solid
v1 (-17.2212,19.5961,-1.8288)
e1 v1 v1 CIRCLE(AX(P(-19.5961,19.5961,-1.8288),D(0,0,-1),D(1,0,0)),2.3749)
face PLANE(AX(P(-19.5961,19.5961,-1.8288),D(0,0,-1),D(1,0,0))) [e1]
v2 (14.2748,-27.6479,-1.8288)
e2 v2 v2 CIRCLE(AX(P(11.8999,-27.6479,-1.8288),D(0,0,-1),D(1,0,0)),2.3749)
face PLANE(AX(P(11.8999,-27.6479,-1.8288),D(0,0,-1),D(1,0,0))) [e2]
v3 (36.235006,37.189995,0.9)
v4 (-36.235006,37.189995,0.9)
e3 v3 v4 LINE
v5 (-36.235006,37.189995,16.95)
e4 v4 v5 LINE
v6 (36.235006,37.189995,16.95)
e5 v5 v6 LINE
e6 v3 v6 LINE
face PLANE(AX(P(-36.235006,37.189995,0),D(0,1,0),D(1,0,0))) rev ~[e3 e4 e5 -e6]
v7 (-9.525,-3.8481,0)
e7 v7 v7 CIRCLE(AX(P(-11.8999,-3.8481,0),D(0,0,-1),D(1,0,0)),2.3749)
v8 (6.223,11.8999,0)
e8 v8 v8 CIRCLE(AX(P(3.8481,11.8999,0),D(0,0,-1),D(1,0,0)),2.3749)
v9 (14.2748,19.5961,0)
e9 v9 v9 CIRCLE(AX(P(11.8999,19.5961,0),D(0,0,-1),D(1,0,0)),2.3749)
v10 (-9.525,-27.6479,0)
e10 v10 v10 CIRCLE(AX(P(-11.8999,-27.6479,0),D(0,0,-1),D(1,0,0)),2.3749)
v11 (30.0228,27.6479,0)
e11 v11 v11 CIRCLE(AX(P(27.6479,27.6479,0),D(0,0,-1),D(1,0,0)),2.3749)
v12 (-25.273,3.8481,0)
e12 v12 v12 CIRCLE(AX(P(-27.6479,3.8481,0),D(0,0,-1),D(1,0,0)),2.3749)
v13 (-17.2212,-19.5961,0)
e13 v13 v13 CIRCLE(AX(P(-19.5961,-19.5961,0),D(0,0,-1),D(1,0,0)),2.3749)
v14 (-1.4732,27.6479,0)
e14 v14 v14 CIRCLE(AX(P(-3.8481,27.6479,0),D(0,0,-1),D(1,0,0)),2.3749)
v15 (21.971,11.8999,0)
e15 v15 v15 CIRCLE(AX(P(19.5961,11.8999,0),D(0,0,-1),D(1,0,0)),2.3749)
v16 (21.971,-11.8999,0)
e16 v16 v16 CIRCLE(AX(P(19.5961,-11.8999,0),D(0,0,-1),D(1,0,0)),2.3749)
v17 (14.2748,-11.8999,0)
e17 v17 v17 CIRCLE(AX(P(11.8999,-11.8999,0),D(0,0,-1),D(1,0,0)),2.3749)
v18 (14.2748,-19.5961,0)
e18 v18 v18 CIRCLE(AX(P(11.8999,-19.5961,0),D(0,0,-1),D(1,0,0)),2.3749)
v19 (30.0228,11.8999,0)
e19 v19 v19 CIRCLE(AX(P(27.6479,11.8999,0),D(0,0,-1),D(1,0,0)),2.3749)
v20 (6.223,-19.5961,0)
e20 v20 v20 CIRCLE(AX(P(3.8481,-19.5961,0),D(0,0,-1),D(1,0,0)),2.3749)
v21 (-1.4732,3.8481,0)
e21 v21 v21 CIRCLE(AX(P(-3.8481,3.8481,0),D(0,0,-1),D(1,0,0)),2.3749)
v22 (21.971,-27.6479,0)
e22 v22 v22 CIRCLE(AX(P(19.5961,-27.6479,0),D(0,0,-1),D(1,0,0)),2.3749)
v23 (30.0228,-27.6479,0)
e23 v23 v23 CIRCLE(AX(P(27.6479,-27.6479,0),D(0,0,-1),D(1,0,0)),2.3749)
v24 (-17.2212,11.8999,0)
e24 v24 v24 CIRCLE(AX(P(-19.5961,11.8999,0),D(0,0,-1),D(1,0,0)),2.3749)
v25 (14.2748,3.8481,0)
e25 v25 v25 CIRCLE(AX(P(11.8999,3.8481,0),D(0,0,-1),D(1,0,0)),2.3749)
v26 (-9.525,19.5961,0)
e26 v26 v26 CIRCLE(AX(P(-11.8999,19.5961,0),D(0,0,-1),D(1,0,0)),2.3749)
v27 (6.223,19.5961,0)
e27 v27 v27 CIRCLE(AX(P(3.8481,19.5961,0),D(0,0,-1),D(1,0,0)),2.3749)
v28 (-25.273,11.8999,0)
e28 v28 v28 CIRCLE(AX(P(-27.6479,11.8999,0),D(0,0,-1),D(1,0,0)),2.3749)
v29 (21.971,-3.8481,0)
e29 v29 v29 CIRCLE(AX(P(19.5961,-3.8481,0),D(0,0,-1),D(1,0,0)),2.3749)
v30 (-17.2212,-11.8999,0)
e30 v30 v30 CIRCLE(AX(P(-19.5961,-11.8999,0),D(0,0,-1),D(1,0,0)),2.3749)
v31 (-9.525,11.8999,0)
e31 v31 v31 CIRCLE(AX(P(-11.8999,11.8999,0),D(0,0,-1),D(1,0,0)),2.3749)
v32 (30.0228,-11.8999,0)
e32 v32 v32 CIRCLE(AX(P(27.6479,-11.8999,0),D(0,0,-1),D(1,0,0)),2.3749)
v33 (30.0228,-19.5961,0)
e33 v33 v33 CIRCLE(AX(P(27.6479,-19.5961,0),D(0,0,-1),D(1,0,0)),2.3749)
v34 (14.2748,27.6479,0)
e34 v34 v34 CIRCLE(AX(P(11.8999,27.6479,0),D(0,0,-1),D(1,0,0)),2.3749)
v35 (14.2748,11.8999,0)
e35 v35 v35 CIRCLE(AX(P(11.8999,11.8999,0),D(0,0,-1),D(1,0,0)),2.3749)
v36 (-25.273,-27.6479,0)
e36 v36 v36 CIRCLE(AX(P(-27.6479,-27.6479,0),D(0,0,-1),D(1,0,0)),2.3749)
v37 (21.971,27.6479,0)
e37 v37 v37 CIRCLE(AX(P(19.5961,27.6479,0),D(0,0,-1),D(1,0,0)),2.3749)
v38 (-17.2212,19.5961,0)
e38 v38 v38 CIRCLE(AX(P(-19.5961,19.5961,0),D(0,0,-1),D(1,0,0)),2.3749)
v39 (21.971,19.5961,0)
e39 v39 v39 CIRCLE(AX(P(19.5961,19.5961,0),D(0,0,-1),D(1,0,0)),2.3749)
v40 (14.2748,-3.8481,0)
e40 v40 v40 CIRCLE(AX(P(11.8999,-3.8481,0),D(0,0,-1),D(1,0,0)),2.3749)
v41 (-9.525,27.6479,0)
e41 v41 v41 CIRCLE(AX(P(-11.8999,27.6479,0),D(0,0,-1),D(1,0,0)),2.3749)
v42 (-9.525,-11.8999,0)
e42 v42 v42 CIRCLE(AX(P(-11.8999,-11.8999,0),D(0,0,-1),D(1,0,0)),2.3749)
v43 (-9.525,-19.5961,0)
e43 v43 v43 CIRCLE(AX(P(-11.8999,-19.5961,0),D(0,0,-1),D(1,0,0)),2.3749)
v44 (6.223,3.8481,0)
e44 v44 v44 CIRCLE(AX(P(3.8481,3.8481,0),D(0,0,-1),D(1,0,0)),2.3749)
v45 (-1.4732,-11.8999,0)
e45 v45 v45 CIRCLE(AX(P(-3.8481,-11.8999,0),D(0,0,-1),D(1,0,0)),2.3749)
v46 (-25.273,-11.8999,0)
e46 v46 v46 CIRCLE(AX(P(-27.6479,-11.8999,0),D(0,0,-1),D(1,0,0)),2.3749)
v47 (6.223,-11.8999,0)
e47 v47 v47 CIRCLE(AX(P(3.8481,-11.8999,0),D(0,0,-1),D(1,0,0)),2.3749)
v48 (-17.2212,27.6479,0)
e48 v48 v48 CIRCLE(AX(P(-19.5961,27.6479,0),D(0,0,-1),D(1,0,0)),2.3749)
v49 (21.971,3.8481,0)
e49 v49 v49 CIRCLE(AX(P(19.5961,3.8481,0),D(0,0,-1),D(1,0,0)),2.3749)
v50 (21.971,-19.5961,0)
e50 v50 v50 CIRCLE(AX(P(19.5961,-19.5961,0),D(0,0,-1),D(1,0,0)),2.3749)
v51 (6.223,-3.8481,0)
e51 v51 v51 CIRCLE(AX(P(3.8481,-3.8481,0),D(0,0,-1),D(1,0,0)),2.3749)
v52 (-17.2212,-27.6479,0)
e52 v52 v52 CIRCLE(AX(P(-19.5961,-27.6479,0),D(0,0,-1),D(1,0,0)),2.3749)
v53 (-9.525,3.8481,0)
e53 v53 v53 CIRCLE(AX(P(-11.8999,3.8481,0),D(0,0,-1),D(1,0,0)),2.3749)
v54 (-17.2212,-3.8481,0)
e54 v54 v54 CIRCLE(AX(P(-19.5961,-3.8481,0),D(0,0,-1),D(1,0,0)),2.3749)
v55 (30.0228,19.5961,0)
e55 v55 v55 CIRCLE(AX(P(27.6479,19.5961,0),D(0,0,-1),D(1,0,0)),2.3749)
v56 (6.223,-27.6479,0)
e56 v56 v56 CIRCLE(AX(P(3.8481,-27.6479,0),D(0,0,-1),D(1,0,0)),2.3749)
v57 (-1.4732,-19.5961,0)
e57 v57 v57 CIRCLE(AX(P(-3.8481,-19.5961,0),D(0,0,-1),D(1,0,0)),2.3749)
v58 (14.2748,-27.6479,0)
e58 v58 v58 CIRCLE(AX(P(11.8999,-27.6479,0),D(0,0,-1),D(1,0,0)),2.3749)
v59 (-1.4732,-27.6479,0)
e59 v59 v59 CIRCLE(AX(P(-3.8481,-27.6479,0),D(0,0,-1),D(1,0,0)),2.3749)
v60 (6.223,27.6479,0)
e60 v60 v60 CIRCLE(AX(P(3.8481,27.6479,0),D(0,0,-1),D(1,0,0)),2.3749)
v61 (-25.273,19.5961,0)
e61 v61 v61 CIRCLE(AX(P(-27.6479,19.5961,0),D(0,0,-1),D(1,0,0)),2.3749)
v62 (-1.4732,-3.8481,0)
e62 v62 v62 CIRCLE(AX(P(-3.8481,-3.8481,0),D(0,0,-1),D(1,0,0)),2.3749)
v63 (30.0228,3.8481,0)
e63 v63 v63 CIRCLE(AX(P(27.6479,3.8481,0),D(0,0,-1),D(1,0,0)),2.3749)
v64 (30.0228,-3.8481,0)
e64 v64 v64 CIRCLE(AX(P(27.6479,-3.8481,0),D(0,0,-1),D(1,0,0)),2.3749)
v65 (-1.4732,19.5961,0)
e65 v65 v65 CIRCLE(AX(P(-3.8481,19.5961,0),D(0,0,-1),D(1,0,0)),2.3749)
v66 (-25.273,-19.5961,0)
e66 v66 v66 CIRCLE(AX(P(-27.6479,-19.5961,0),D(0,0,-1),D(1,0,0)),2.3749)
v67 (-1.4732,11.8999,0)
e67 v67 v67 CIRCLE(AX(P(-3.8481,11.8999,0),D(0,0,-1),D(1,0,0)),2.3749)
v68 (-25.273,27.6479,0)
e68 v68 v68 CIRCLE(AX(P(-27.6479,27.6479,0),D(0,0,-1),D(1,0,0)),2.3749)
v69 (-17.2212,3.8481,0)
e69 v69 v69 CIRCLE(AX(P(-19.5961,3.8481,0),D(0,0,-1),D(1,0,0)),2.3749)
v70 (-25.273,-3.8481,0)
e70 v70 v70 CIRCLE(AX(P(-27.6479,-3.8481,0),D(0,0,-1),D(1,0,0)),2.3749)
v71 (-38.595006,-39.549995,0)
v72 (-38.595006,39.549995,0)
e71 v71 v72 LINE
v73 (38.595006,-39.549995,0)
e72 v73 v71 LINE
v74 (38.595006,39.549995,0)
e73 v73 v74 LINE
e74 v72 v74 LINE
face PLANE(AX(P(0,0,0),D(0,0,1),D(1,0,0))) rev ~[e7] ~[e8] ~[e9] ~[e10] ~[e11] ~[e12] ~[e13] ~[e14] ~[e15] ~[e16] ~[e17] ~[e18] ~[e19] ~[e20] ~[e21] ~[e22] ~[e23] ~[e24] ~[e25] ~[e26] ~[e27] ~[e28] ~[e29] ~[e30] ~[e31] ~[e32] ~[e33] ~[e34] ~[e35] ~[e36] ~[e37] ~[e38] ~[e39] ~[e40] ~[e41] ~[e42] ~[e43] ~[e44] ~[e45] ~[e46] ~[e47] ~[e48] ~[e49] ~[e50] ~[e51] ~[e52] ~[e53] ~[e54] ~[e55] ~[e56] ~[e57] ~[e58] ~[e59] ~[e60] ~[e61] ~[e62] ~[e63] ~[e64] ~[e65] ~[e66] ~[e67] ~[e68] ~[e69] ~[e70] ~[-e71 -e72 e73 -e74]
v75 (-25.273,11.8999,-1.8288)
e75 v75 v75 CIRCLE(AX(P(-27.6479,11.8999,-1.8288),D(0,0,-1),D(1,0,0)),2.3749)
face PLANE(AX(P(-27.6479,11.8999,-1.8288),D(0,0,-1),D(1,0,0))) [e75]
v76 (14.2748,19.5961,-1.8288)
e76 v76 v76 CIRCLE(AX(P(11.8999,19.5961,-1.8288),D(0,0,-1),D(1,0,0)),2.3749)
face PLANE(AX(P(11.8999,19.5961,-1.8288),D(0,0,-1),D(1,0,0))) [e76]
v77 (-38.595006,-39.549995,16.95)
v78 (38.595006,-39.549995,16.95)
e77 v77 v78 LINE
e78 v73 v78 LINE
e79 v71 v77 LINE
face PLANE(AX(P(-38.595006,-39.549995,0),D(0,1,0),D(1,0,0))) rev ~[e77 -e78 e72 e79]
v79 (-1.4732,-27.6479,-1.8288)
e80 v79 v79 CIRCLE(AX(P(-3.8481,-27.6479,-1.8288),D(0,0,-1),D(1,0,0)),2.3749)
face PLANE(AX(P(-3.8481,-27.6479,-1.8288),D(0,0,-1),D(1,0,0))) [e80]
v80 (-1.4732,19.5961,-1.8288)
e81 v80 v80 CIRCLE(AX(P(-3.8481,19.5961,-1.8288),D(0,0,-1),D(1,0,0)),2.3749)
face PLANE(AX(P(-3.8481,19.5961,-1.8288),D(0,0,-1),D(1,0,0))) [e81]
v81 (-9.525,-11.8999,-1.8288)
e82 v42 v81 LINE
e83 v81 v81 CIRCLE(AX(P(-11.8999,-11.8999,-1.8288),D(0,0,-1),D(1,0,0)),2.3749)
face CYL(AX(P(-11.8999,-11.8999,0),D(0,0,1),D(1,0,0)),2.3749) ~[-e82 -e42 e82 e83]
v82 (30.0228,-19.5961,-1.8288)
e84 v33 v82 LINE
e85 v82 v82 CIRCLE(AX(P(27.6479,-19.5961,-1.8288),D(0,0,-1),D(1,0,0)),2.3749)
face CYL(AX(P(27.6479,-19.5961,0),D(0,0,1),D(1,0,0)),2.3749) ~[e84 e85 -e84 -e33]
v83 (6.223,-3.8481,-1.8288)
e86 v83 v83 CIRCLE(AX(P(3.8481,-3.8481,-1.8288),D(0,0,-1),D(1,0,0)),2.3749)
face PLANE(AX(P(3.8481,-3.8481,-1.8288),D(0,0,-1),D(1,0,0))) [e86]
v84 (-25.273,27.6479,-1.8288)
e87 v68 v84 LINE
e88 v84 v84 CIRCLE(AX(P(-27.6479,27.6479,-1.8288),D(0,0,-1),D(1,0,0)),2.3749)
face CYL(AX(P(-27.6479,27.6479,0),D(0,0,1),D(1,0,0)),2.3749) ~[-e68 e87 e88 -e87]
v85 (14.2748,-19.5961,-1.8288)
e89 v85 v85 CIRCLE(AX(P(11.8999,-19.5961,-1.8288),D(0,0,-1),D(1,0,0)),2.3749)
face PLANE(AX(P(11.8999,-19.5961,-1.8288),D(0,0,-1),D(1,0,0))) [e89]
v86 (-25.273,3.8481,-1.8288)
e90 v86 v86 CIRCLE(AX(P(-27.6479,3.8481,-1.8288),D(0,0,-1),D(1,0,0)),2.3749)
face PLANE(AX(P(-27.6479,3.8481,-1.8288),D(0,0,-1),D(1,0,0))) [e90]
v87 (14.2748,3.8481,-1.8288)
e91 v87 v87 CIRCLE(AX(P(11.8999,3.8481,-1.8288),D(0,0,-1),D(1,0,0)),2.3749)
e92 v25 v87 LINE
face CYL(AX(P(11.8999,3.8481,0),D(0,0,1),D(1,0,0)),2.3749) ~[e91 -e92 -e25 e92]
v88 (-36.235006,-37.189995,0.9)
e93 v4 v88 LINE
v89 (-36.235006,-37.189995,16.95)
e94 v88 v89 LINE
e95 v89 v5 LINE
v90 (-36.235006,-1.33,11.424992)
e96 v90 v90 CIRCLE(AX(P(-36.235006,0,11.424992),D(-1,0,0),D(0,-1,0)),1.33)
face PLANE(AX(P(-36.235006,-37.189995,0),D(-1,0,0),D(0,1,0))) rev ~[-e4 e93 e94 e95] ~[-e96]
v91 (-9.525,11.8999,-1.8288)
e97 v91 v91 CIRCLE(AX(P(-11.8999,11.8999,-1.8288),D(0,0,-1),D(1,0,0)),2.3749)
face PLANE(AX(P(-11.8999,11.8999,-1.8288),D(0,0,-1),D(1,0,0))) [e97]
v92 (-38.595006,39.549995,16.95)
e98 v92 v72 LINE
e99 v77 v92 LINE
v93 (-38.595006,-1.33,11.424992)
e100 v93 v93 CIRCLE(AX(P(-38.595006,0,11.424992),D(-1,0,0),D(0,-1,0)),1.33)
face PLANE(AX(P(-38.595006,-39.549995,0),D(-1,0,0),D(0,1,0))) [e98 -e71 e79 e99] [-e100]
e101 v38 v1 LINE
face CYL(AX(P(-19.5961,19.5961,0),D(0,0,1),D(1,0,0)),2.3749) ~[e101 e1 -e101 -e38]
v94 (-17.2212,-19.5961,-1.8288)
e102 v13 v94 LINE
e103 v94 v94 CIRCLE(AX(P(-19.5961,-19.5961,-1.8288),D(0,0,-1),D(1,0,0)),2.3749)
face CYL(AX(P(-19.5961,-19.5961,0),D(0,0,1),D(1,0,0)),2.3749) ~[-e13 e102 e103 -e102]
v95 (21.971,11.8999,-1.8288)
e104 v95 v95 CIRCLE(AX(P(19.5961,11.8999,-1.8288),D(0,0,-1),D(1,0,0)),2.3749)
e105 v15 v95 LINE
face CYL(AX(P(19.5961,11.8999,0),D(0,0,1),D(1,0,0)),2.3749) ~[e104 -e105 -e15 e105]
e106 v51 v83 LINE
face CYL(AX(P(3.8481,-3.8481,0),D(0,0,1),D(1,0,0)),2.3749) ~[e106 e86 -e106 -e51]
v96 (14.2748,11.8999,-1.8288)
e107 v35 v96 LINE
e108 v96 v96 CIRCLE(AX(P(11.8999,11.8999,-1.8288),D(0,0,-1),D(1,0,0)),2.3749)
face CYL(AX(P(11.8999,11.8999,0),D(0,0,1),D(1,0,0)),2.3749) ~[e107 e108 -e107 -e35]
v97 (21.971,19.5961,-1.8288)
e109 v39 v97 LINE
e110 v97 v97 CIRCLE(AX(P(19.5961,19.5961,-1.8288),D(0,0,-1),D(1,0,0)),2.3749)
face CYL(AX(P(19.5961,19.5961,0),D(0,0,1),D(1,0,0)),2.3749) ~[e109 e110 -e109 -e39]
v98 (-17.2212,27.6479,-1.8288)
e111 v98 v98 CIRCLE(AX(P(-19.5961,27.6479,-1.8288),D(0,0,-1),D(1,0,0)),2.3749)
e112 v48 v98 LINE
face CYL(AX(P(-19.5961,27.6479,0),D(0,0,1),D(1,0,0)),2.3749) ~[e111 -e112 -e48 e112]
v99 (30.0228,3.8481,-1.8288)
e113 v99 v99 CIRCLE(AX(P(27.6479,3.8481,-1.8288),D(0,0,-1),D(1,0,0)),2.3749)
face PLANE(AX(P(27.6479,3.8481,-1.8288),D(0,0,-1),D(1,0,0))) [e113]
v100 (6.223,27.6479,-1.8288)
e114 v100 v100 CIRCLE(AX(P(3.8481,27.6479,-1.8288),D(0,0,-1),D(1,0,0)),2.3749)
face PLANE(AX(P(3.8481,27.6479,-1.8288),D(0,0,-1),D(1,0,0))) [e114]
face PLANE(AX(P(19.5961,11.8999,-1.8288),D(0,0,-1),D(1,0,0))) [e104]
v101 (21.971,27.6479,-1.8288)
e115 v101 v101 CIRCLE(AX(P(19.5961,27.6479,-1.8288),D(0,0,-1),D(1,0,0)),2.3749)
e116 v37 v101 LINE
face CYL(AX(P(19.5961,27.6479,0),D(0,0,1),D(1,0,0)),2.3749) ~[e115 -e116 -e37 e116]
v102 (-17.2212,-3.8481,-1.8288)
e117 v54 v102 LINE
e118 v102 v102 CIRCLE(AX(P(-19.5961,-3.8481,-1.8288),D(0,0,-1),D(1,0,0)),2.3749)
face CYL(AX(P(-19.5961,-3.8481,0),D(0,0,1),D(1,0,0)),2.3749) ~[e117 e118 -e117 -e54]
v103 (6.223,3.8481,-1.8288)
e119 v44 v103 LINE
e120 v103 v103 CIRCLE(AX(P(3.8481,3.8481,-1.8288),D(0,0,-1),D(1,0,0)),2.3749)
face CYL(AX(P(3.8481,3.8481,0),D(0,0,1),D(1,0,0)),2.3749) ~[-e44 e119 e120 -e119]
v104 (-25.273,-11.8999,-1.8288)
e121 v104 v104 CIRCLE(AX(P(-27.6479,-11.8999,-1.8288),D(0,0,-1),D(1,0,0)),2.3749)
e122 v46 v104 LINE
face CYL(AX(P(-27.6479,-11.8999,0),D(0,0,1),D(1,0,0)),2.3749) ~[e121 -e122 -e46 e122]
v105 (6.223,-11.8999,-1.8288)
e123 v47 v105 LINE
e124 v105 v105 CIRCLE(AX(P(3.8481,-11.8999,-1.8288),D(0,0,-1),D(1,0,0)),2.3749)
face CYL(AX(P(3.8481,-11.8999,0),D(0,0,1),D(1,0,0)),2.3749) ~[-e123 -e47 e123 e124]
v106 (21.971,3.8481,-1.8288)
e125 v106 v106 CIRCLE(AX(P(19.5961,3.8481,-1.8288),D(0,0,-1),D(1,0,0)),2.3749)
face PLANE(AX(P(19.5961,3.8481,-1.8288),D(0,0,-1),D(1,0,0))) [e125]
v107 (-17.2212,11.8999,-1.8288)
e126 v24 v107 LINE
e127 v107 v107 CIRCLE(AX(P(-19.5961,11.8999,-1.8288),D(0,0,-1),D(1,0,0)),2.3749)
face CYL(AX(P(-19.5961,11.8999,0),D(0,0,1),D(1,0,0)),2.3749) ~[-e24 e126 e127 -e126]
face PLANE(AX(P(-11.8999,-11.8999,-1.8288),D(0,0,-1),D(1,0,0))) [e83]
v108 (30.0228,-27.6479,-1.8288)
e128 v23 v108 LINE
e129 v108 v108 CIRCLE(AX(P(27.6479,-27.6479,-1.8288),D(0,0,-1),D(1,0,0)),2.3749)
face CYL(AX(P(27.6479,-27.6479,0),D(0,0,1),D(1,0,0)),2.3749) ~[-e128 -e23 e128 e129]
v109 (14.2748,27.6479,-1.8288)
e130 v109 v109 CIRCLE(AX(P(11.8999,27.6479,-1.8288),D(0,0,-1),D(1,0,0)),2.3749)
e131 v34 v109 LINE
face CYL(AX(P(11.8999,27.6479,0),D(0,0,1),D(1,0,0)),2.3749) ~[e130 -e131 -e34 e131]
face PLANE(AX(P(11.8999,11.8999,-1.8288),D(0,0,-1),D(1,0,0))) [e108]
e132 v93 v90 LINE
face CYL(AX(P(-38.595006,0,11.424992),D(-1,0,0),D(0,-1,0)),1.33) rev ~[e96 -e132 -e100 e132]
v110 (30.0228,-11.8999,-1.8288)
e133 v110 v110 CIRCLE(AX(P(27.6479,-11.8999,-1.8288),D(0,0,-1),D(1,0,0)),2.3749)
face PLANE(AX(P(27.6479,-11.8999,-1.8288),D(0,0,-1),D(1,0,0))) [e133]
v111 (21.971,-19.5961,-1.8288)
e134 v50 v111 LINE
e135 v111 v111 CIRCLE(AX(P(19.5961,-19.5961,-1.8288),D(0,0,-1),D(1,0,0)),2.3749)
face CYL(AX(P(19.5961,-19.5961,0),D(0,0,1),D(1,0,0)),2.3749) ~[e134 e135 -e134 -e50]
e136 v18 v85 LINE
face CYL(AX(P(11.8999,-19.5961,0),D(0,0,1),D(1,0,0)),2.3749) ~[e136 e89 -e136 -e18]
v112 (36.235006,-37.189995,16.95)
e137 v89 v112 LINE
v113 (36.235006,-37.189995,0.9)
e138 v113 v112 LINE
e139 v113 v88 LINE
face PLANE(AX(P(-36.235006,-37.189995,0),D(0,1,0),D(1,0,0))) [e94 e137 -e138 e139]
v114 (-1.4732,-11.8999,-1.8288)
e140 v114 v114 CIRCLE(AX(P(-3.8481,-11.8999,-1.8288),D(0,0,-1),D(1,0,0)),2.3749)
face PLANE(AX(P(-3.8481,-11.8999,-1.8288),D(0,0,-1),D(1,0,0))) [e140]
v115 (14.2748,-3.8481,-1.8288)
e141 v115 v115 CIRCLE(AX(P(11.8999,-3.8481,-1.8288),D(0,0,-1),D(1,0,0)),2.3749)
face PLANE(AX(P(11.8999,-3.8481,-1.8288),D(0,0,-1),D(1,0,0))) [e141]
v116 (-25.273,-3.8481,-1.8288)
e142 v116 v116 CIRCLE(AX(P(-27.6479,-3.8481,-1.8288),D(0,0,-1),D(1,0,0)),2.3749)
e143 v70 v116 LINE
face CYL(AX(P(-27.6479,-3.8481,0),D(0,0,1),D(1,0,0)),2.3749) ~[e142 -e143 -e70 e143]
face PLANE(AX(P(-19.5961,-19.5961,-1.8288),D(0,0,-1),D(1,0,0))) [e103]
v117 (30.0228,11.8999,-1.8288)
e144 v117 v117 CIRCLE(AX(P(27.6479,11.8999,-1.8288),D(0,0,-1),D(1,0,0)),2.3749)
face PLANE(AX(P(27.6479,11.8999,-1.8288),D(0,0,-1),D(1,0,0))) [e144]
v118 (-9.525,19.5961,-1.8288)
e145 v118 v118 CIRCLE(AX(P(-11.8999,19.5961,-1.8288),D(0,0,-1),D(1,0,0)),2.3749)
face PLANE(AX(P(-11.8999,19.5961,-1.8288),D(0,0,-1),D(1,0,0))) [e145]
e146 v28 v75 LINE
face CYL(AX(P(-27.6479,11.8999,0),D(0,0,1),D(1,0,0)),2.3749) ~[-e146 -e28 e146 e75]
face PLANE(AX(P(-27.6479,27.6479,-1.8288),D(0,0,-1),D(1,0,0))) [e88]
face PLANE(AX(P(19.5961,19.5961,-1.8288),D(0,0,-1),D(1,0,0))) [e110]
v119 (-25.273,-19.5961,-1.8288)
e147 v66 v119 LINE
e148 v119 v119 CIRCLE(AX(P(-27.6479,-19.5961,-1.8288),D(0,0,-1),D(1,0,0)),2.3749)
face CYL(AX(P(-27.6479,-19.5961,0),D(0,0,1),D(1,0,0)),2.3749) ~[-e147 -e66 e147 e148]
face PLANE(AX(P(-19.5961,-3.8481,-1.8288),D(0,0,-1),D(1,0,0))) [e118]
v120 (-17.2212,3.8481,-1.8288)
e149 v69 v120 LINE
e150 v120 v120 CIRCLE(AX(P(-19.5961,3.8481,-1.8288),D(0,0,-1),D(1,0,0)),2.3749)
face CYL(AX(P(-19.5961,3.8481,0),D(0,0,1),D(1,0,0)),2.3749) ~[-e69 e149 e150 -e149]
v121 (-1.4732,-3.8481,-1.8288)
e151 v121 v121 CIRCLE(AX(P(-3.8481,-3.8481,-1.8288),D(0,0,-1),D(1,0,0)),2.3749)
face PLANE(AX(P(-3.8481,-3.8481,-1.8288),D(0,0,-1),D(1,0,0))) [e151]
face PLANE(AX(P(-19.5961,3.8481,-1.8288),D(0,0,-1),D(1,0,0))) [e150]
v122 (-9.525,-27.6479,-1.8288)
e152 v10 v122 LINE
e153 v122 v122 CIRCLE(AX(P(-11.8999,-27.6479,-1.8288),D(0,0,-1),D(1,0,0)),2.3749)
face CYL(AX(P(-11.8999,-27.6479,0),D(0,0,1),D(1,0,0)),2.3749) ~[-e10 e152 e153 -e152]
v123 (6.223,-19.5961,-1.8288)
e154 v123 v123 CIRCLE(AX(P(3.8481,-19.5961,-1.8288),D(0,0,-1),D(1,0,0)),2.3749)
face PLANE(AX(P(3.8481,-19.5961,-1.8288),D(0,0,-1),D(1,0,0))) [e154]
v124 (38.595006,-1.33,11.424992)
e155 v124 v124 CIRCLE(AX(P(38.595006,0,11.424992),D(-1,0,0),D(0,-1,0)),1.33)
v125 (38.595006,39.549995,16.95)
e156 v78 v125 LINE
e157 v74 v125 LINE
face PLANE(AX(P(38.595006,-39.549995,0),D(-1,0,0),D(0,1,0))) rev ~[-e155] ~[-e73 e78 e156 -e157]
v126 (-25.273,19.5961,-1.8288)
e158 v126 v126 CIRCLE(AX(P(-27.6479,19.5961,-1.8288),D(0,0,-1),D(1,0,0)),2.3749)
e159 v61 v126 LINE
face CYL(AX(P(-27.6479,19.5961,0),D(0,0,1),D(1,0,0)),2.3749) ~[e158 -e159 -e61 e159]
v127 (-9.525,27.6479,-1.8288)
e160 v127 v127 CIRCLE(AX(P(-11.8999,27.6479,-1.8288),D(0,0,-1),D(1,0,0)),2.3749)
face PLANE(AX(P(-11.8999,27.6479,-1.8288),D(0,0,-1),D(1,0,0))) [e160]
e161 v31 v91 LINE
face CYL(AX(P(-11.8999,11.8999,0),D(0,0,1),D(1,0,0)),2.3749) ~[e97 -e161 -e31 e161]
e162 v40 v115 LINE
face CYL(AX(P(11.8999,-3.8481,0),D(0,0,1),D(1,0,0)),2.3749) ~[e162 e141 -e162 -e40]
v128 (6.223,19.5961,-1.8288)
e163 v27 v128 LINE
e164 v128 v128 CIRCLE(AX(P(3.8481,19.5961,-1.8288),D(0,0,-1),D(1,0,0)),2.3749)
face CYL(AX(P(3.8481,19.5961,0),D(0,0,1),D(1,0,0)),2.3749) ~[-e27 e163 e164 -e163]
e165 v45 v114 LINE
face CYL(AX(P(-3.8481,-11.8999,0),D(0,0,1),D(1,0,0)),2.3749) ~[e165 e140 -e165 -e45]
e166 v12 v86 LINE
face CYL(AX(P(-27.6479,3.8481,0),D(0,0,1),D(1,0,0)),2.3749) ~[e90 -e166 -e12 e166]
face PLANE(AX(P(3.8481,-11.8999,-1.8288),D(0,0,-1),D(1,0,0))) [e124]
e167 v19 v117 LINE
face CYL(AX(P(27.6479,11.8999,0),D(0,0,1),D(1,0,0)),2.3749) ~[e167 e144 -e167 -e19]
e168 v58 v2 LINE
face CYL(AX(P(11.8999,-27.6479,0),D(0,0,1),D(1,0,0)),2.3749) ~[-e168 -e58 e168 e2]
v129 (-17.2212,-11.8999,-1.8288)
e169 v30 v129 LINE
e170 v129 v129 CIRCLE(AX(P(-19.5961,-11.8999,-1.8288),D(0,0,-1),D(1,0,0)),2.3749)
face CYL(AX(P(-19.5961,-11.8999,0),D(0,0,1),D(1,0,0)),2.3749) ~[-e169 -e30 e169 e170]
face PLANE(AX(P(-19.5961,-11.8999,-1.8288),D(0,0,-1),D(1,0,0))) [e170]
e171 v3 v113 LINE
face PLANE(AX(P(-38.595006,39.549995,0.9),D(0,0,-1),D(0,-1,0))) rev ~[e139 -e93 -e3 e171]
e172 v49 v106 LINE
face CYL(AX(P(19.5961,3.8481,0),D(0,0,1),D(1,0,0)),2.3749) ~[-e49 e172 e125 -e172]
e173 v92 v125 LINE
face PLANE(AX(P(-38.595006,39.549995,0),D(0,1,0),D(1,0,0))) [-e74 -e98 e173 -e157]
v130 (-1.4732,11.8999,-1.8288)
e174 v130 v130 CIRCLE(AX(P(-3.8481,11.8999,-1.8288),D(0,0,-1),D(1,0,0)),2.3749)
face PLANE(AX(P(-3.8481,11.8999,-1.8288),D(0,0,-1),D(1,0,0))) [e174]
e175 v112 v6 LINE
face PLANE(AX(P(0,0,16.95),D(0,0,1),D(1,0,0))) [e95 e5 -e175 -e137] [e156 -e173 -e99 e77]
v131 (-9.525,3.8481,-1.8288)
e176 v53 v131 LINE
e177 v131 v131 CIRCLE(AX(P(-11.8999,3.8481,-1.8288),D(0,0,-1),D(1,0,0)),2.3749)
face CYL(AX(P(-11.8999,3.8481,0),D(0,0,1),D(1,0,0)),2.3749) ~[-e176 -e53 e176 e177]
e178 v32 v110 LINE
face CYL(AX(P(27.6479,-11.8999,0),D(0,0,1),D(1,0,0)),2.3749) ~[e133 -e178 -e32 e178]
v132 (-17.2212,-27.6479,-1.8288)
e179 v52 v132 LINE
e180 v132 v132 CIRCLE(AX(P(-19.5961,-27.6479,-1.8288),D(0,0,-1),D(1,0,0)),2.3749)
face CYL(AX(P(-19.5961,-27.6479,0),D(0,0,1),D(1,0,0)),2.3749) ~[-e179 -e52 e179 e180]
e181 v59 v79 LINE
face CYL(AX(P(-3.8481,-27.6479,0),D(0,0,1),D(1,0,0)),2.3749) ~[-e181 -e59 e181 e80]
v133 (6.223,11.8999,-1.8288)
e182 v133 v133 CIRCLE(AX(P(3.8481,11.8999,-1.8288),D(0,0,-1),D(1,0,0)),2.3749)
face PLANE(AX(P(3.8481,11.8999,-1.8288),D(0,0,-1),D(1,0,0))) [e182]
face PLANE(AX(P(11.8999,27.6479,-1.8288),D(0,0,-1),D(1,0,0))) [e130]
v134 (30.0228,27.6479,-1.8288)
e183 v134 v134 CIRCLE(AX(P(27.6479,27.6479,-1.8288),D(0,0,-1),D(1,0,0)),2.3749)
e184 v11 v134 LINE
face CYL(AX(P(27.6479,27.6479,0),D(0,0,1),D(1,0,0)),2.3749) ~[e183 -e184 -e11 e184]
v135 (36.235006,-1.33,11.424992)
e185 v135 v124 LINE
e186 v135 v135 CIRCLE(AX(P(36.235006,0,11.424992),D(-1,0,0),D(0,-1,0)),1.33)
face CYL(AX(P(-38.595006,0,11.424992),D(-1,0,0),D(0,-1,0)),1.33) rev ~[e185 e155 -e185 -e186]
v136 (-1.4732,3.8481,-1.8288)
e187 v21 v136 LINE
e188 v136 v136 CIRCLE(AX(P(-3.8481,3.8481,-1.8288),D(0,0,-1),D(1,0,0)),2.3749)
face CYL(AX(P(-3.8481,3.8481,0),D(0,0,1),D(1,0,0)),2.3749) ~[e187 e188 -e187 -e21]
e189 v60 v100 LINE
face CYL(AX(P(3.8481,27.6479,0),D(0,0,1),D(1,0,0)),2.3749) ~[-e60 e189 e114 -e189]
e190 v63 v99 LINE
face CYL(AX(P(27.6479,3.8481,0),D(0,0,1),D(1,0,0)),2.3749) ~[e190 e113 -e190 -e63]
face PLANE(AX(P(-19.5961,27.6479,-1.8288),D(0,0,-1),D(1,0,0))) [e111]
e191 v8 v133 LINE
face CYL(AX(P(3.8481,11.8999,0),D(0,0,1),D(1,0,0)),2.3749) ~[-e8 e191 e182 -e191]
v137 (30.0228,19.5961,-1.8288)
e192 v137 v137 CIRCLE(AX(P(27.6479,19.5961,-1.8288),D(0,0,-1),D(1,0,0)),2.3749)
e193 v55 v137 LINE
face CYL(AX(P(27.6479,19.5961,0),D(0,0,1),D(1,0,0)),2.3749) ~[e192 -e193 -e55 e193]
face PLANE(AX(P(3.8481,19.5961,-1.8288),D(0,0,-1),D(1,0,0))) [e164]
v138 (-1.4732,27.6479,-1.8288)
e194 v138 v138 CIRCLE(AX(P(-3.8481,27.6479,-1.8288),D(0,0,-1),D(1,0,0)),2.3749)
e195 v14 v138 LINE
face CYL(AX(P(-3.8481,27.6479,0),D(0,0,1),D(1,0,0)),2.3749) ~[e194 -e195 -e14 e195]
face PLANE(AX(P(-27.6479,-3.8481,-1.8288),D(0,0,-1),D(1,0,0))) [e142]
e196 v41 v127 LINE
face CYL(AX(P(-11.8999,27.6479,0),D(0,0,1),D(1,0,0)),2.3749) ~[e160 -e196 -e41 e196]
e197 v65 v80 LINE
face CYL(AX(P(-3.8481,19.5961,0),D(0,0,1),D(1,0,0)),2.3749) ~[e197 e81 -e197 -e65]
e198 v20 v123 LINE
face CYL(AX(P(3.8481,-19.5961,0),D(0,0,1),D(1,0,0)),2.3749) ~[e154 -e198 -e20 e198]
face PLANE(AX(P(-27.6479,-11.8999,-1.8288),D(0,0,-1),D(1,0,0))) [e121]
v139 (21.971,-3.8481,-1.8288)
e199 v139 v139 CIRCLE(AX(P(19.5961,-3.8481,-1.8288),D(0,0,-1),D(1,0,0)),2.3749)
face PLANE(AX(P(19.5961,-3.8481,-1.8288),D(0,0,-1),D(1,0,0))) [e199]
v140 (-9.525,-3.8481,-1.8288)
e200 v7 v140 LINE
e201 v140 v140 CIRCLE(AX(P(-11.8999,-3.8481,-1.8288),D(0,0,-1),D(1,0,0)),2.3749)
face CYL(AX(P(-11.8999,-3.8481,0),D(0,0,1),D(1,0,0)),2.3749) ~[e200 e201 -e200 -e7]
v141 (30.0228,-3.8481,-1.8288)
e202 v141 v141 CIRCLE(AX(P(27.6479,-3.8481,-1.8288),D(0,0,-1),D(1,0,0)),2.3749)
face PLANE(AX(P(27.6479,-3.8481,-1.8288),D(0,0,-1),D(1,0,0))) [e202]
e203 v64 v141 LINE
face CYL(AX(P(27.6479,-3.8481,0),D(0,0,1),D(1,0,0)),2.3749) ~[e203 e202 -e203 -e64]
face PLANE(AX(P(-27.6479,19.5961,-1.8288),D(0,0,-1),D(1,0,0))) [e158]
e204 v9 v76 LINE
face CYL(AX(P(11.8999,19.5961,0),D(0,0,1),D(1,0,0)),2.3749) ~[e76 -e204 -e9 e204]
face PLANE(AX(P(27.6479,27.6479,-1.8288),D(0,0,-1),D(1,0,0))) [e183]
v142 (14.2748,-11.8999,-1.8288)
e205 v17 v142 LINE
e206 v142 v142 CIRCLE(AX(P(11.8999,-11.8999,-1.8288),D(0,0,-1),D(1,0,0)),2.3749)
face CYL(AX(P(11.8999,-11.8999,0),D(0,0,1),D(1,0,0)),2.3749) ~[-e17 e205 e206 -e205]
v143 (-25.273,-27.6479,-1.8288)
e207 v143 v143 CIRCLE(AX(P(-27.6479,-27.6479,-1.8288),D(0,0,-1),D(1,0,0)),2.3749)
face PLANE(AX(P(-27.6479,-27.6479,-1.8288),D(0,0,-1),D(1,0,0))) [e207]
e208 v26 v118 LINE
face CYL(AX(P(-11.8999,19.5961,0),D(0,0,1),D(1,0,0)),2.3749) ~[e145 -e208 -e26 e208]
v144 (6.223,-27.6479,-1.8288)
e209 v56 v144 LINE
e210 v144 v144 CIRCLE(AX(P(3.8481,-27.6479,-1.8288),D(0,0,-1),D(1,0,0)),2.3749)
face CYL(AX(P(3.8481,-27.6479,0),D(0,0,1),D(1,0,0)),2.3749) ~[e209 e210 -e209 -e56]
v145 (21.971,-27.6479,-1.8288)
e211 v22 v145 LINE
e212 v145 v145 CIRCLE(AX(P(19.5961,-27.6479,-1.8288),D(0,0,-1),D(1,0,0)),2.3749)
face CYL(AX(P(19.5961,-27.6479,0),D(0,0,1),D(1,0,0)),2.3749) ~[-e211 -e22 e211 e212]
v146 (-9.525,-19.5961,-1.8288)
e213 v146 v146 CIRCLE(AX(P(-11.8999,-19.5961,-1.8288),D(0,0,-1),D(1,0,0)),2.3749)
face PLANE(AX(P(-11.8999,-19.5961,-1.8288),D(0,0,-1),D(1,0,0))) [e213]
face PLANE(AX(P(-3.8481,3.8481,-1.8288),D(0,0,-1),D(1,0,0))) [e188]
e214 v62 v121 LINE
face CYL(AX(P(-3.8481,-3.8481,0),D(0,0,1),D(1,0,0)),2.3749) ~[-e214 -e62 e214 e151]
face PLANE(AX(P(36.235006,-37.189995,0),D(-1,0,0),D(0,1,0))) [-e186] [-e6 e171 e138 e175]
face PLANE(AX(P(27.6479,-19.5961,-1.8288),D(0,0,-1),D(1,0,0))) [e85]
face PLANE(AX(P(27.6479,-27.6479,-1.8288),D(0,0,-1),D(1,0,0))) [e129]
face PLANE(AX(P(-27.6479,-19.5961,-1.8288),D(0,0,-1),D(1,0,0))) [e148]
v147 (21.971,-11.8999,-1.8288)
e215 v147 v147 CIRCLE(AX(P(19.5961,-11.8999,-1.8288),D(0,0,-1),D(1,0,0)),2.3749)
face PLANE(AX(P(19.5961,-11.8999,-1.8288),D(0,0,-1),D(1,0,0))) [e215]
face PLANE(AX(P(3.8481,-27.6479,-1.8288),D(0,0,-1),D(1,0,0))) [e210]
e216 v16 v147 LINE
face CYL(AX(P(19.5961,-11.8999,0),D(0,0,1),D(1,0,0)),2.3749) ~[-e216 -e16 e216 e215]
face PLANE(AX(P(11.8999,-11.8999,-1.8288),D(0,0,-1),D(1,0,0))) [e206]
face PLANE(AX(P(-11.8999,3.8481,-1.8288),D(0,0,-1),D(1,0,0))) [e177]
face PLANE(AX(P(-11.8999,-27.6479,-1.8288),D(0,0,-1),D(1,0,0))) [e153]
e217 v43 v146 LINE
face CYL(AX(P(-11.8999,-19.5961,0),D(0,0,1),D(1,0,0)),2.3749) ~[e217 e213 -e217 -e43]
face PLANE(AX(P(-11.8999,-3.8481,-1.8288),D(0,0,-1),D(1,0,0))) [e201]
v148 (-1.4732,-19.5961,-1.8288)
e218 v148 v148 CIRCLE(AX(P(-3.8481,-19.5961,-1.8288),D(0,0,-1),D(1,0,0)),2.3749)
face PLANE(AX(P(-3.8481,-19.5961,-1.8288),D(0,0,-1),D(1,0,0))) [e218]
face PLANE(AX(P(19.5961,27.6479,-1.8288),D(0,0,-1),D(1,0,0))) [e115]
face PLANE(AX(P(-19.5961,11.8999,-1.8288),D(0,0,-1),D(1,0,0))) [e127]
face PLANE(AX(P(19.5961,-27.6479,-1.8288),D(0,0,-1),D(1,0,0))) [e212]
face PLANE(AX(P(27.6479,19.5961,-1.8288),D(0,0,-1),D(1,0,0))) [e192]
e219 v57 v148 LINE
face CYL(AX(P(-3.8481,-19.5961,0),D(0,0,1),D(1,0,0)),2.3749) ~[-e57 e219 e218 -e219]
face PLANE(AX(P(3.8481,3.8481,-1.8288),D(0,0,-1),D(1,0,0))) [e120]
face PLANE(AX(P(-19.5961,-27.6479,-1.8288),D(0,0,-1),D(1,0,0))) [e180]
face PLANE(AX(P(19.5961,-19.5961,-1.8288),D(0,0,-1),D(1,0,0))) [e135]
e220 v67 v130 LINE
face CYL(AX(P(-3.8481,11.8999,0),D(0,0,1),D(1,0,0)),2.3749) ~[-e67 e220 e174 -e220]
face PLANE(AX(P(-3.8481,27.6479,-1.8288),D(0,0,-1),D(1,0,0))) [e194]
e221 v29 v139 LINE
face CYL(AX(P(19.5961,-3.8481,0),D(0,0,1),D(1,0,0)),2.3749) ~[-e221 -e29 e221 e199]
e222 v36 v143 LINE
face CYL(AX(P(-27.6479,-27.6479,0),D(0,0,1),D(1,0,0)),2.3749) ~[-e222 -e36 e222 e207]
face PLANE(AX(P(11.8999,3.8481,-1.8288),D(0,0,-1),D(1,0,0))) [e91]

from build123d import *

# Parameters (mm, degrees)
F0_W     = 77.190011016
F0_H     = 79.099989416
F0_W_2   = 72.470011016
F0_H_2   = 74.379989416
F1_DEPTH = 16.95
F2_W     = 79.099989416
F2_H     = 0.9
F3_DEPTH = 74.830011016
F4_R     = 1.33
F5_DEPTH = 77.191011016
F6_R     = 2.3749
F7_DEPTH = 1.8288


with BuildPart() as f1:
    # F0 (on Top) → F1 (new body)
    with BuildSketch(Plane.XY):
        Rectangle(F0_W, F0_H)
        Rectangle(F0_W_2, F0_H_2, mode=Mode.SUBTRACT)
    extrude(amount=F1_DEPTH)

    # F2 (on face) → F3 (join, through all)
    with BuildSketch(Plane(origin=(-38.595005508, 0, 0), x_dir=(0, -1, 0), z_dir=(-1, 0, 0))):
        with Locations((0, 0.45)):
            Rectangle(F2_W, F2_H)
    extrude(amount=-F3_DEPTH)

    # F4 (on face) → F5 (cut, through all)
    with BuildSketch(Plane(origin=(-38.595005508, 0, 0), x_dir=(0, -1, 0), z_dir=(-1, 0, 0))):
        with Locations((0, 11.424992)):
            Circle(F4_R)
    extrude(amount=-F5_DEPTH, mode=Mode.SUBTRACT)

    # F6 (on face) → F7 (join)
    with BuildSketch(Plane(origin=(0, 0, 0), x_dir=(1, 0, 0), z_dir=(0, 0, -1))):
        with Locations((-27.6479, 27.6479)):
            Circle(F6_R)
        with Locations((-19.5961, 27.6479)):
            Circle(F6_R)
        with Locations((-11.8999, 27.6479)):
            Circle(F6_R)
        with Locations((-3.8481, 27.6479)):
            Circle(F6_R)
        with Locations((3.8481, 27.6479)):
            Circle(F6_R)
        with Locations((11.8999, 27.6479)):
            Circle(F6_R)
        with Locations((19.5961, 27.6479)):
            Circle(F6_R)
        with Locations((27.6479, 27.6479)):
            Circle(F6_R)
        with Locations((27.6479, 19.5961)):
            Circle(F6_R)
        with Locations((19.5961, 19.5961)):
            Circle(F6_R)
        with Locations((11.8999, 19.5961)):
            Circle(F6_R)
        with Locations((3.8481, 19.5961)):
            Circle(F6_R)
        with Locations((-3.8481, 19.5961)):
            Circle(F6_R)
        with Locations((-11.8999, 19.5961)):
            Circle(F6_R)
        with Locations((-19.5961, 19.5961)):
            Circle(F6_R)
        with Locations((-27.6479, 19.5961)):
            Circle(F6_R)
        with Locations((-27.6479, 11.8999)):
            Circle(F6_R)
        with Locations((-19.5961, 11.8999)):
            Circle(F6_R)
        with Locations((-11.8999, 11.8999)):
            Circle(F6_R)
        with Locations((-3.8481, 11.8999)):
            Circle(F6_R)
        with Locations((3.8481, 11.8999)):
            Circle(F6_R)
        with Locations((11.8999, 11.8999)):
            Circle(F6_R)
        with Locations((19.5961, 11.8999)):
            Circle(F6_R)
        with Locations((27.6479, 11.8999)):
            Circle(F6_R)
        with Locations((27.6479, 3.8481)):
            Circle(F6_R)
        with Locations((19.5961, 3.8481)):
            Circle(F6_R)
        with Locations((11.8999, 3.8481)):
            Circle(F6_R)
        with Locations((3.8481, 3.8481)):
            Circle(F6_R)
        with Locations((-3.8481, 3.8481)):
            Circle(F6_R)
        with Locations((-11.8999, 3.8481)):
            Circle(F6_R)
        with Locations((-19.5961, 3.8481)):
            Circle(F6_R)
        with Locations((-27.6479, 3.8481)):
            Circle(F6_R)
        with Locations((-27.6479, -3.8481)):
            Circle(F6_R)
        with Locations((-19.5961, -3.8481)):
            Circle(F6_R)
        with Locations((-11.8999, -3.8481)):
            Circle(F6_R)
        with Locations((-3.8481, -3.8481)):
            Circle(F6_R)
        with Locations((3.8481, -3.8481)):
            Circle(F6_R)
        with Locations((11.8999, -3.8481)):
            Circle(F6_R)
        with Locations((19.5961, -3.8481)):
            Circle(F6_R)
        with Locations((27.6479, -3.8481)):
            Circle(F6_R)
        with Locations((27.6479, -11.8999)):
            Circle(F6_R)
        with Locations((19.5961, -11.8999)):
            Circle(F6_R)
        with Locations((11.8999, -11.8999)):
            Circle(F6_R)
        with Locations((3.8481, -11.8999)):
            Circle(F6_R)
        with Locations((-3.8481, -11.8999)):
            Circle(F6_R)
        with Locations((-11.8999, -11.8999)):
            Circle(F6_R)
        with Locations((-19.5961, -11.8999)):
            Circle(F6_R)
        with Locations((-27.6479, -11.8999)):
            Circle(F6_R)
        with Locations((-27.6479, -19.5961)):
            Circle(F6_R)
        with Locations((-19.5961, -19.5961)):
            Circle(F6_R)
        with Locations((-11.8999, -19.5961)):
            Circle(F6_R)
        with Locations((-3.8481, -19.5961)):
            Circle(F6_R)
        with Locations((3.8481, -19.5961)):
            Circle(F6_R)
        with Locations((11.8999, -19.5961)):
            Circle(F6_R)
        with Locations((19.5961, -19.5961)):
            Circle(F6_R)
        with Locations((27.6479, -19.5961)):
            Circle(F6_R)
        with Locations((27.6479, -27.6479)):
            Circle(F6_R)
        with Locations((19.5961, -27.6479)):
            Circle(F6_R)
        with Locations((11.8999, -27.6479)):
            Circle(F6_R)
        with Locations((3.8481, -27.6479)):
            Circle(F6_R)
        with Locations((-3.8481, -27.6479)):
            Circle(F6_R)
        with Locations((-11.8999, -27.6479)):
            Circle(F6_R)
        with Locations((-19.5961, -27.6479)):
            Circle(F6_R)
        with Locations((-27.6479, -27.6479)):
            Circle(F6_R)
    extrude(amount=F7_DEPTH)


solid = f1.part
